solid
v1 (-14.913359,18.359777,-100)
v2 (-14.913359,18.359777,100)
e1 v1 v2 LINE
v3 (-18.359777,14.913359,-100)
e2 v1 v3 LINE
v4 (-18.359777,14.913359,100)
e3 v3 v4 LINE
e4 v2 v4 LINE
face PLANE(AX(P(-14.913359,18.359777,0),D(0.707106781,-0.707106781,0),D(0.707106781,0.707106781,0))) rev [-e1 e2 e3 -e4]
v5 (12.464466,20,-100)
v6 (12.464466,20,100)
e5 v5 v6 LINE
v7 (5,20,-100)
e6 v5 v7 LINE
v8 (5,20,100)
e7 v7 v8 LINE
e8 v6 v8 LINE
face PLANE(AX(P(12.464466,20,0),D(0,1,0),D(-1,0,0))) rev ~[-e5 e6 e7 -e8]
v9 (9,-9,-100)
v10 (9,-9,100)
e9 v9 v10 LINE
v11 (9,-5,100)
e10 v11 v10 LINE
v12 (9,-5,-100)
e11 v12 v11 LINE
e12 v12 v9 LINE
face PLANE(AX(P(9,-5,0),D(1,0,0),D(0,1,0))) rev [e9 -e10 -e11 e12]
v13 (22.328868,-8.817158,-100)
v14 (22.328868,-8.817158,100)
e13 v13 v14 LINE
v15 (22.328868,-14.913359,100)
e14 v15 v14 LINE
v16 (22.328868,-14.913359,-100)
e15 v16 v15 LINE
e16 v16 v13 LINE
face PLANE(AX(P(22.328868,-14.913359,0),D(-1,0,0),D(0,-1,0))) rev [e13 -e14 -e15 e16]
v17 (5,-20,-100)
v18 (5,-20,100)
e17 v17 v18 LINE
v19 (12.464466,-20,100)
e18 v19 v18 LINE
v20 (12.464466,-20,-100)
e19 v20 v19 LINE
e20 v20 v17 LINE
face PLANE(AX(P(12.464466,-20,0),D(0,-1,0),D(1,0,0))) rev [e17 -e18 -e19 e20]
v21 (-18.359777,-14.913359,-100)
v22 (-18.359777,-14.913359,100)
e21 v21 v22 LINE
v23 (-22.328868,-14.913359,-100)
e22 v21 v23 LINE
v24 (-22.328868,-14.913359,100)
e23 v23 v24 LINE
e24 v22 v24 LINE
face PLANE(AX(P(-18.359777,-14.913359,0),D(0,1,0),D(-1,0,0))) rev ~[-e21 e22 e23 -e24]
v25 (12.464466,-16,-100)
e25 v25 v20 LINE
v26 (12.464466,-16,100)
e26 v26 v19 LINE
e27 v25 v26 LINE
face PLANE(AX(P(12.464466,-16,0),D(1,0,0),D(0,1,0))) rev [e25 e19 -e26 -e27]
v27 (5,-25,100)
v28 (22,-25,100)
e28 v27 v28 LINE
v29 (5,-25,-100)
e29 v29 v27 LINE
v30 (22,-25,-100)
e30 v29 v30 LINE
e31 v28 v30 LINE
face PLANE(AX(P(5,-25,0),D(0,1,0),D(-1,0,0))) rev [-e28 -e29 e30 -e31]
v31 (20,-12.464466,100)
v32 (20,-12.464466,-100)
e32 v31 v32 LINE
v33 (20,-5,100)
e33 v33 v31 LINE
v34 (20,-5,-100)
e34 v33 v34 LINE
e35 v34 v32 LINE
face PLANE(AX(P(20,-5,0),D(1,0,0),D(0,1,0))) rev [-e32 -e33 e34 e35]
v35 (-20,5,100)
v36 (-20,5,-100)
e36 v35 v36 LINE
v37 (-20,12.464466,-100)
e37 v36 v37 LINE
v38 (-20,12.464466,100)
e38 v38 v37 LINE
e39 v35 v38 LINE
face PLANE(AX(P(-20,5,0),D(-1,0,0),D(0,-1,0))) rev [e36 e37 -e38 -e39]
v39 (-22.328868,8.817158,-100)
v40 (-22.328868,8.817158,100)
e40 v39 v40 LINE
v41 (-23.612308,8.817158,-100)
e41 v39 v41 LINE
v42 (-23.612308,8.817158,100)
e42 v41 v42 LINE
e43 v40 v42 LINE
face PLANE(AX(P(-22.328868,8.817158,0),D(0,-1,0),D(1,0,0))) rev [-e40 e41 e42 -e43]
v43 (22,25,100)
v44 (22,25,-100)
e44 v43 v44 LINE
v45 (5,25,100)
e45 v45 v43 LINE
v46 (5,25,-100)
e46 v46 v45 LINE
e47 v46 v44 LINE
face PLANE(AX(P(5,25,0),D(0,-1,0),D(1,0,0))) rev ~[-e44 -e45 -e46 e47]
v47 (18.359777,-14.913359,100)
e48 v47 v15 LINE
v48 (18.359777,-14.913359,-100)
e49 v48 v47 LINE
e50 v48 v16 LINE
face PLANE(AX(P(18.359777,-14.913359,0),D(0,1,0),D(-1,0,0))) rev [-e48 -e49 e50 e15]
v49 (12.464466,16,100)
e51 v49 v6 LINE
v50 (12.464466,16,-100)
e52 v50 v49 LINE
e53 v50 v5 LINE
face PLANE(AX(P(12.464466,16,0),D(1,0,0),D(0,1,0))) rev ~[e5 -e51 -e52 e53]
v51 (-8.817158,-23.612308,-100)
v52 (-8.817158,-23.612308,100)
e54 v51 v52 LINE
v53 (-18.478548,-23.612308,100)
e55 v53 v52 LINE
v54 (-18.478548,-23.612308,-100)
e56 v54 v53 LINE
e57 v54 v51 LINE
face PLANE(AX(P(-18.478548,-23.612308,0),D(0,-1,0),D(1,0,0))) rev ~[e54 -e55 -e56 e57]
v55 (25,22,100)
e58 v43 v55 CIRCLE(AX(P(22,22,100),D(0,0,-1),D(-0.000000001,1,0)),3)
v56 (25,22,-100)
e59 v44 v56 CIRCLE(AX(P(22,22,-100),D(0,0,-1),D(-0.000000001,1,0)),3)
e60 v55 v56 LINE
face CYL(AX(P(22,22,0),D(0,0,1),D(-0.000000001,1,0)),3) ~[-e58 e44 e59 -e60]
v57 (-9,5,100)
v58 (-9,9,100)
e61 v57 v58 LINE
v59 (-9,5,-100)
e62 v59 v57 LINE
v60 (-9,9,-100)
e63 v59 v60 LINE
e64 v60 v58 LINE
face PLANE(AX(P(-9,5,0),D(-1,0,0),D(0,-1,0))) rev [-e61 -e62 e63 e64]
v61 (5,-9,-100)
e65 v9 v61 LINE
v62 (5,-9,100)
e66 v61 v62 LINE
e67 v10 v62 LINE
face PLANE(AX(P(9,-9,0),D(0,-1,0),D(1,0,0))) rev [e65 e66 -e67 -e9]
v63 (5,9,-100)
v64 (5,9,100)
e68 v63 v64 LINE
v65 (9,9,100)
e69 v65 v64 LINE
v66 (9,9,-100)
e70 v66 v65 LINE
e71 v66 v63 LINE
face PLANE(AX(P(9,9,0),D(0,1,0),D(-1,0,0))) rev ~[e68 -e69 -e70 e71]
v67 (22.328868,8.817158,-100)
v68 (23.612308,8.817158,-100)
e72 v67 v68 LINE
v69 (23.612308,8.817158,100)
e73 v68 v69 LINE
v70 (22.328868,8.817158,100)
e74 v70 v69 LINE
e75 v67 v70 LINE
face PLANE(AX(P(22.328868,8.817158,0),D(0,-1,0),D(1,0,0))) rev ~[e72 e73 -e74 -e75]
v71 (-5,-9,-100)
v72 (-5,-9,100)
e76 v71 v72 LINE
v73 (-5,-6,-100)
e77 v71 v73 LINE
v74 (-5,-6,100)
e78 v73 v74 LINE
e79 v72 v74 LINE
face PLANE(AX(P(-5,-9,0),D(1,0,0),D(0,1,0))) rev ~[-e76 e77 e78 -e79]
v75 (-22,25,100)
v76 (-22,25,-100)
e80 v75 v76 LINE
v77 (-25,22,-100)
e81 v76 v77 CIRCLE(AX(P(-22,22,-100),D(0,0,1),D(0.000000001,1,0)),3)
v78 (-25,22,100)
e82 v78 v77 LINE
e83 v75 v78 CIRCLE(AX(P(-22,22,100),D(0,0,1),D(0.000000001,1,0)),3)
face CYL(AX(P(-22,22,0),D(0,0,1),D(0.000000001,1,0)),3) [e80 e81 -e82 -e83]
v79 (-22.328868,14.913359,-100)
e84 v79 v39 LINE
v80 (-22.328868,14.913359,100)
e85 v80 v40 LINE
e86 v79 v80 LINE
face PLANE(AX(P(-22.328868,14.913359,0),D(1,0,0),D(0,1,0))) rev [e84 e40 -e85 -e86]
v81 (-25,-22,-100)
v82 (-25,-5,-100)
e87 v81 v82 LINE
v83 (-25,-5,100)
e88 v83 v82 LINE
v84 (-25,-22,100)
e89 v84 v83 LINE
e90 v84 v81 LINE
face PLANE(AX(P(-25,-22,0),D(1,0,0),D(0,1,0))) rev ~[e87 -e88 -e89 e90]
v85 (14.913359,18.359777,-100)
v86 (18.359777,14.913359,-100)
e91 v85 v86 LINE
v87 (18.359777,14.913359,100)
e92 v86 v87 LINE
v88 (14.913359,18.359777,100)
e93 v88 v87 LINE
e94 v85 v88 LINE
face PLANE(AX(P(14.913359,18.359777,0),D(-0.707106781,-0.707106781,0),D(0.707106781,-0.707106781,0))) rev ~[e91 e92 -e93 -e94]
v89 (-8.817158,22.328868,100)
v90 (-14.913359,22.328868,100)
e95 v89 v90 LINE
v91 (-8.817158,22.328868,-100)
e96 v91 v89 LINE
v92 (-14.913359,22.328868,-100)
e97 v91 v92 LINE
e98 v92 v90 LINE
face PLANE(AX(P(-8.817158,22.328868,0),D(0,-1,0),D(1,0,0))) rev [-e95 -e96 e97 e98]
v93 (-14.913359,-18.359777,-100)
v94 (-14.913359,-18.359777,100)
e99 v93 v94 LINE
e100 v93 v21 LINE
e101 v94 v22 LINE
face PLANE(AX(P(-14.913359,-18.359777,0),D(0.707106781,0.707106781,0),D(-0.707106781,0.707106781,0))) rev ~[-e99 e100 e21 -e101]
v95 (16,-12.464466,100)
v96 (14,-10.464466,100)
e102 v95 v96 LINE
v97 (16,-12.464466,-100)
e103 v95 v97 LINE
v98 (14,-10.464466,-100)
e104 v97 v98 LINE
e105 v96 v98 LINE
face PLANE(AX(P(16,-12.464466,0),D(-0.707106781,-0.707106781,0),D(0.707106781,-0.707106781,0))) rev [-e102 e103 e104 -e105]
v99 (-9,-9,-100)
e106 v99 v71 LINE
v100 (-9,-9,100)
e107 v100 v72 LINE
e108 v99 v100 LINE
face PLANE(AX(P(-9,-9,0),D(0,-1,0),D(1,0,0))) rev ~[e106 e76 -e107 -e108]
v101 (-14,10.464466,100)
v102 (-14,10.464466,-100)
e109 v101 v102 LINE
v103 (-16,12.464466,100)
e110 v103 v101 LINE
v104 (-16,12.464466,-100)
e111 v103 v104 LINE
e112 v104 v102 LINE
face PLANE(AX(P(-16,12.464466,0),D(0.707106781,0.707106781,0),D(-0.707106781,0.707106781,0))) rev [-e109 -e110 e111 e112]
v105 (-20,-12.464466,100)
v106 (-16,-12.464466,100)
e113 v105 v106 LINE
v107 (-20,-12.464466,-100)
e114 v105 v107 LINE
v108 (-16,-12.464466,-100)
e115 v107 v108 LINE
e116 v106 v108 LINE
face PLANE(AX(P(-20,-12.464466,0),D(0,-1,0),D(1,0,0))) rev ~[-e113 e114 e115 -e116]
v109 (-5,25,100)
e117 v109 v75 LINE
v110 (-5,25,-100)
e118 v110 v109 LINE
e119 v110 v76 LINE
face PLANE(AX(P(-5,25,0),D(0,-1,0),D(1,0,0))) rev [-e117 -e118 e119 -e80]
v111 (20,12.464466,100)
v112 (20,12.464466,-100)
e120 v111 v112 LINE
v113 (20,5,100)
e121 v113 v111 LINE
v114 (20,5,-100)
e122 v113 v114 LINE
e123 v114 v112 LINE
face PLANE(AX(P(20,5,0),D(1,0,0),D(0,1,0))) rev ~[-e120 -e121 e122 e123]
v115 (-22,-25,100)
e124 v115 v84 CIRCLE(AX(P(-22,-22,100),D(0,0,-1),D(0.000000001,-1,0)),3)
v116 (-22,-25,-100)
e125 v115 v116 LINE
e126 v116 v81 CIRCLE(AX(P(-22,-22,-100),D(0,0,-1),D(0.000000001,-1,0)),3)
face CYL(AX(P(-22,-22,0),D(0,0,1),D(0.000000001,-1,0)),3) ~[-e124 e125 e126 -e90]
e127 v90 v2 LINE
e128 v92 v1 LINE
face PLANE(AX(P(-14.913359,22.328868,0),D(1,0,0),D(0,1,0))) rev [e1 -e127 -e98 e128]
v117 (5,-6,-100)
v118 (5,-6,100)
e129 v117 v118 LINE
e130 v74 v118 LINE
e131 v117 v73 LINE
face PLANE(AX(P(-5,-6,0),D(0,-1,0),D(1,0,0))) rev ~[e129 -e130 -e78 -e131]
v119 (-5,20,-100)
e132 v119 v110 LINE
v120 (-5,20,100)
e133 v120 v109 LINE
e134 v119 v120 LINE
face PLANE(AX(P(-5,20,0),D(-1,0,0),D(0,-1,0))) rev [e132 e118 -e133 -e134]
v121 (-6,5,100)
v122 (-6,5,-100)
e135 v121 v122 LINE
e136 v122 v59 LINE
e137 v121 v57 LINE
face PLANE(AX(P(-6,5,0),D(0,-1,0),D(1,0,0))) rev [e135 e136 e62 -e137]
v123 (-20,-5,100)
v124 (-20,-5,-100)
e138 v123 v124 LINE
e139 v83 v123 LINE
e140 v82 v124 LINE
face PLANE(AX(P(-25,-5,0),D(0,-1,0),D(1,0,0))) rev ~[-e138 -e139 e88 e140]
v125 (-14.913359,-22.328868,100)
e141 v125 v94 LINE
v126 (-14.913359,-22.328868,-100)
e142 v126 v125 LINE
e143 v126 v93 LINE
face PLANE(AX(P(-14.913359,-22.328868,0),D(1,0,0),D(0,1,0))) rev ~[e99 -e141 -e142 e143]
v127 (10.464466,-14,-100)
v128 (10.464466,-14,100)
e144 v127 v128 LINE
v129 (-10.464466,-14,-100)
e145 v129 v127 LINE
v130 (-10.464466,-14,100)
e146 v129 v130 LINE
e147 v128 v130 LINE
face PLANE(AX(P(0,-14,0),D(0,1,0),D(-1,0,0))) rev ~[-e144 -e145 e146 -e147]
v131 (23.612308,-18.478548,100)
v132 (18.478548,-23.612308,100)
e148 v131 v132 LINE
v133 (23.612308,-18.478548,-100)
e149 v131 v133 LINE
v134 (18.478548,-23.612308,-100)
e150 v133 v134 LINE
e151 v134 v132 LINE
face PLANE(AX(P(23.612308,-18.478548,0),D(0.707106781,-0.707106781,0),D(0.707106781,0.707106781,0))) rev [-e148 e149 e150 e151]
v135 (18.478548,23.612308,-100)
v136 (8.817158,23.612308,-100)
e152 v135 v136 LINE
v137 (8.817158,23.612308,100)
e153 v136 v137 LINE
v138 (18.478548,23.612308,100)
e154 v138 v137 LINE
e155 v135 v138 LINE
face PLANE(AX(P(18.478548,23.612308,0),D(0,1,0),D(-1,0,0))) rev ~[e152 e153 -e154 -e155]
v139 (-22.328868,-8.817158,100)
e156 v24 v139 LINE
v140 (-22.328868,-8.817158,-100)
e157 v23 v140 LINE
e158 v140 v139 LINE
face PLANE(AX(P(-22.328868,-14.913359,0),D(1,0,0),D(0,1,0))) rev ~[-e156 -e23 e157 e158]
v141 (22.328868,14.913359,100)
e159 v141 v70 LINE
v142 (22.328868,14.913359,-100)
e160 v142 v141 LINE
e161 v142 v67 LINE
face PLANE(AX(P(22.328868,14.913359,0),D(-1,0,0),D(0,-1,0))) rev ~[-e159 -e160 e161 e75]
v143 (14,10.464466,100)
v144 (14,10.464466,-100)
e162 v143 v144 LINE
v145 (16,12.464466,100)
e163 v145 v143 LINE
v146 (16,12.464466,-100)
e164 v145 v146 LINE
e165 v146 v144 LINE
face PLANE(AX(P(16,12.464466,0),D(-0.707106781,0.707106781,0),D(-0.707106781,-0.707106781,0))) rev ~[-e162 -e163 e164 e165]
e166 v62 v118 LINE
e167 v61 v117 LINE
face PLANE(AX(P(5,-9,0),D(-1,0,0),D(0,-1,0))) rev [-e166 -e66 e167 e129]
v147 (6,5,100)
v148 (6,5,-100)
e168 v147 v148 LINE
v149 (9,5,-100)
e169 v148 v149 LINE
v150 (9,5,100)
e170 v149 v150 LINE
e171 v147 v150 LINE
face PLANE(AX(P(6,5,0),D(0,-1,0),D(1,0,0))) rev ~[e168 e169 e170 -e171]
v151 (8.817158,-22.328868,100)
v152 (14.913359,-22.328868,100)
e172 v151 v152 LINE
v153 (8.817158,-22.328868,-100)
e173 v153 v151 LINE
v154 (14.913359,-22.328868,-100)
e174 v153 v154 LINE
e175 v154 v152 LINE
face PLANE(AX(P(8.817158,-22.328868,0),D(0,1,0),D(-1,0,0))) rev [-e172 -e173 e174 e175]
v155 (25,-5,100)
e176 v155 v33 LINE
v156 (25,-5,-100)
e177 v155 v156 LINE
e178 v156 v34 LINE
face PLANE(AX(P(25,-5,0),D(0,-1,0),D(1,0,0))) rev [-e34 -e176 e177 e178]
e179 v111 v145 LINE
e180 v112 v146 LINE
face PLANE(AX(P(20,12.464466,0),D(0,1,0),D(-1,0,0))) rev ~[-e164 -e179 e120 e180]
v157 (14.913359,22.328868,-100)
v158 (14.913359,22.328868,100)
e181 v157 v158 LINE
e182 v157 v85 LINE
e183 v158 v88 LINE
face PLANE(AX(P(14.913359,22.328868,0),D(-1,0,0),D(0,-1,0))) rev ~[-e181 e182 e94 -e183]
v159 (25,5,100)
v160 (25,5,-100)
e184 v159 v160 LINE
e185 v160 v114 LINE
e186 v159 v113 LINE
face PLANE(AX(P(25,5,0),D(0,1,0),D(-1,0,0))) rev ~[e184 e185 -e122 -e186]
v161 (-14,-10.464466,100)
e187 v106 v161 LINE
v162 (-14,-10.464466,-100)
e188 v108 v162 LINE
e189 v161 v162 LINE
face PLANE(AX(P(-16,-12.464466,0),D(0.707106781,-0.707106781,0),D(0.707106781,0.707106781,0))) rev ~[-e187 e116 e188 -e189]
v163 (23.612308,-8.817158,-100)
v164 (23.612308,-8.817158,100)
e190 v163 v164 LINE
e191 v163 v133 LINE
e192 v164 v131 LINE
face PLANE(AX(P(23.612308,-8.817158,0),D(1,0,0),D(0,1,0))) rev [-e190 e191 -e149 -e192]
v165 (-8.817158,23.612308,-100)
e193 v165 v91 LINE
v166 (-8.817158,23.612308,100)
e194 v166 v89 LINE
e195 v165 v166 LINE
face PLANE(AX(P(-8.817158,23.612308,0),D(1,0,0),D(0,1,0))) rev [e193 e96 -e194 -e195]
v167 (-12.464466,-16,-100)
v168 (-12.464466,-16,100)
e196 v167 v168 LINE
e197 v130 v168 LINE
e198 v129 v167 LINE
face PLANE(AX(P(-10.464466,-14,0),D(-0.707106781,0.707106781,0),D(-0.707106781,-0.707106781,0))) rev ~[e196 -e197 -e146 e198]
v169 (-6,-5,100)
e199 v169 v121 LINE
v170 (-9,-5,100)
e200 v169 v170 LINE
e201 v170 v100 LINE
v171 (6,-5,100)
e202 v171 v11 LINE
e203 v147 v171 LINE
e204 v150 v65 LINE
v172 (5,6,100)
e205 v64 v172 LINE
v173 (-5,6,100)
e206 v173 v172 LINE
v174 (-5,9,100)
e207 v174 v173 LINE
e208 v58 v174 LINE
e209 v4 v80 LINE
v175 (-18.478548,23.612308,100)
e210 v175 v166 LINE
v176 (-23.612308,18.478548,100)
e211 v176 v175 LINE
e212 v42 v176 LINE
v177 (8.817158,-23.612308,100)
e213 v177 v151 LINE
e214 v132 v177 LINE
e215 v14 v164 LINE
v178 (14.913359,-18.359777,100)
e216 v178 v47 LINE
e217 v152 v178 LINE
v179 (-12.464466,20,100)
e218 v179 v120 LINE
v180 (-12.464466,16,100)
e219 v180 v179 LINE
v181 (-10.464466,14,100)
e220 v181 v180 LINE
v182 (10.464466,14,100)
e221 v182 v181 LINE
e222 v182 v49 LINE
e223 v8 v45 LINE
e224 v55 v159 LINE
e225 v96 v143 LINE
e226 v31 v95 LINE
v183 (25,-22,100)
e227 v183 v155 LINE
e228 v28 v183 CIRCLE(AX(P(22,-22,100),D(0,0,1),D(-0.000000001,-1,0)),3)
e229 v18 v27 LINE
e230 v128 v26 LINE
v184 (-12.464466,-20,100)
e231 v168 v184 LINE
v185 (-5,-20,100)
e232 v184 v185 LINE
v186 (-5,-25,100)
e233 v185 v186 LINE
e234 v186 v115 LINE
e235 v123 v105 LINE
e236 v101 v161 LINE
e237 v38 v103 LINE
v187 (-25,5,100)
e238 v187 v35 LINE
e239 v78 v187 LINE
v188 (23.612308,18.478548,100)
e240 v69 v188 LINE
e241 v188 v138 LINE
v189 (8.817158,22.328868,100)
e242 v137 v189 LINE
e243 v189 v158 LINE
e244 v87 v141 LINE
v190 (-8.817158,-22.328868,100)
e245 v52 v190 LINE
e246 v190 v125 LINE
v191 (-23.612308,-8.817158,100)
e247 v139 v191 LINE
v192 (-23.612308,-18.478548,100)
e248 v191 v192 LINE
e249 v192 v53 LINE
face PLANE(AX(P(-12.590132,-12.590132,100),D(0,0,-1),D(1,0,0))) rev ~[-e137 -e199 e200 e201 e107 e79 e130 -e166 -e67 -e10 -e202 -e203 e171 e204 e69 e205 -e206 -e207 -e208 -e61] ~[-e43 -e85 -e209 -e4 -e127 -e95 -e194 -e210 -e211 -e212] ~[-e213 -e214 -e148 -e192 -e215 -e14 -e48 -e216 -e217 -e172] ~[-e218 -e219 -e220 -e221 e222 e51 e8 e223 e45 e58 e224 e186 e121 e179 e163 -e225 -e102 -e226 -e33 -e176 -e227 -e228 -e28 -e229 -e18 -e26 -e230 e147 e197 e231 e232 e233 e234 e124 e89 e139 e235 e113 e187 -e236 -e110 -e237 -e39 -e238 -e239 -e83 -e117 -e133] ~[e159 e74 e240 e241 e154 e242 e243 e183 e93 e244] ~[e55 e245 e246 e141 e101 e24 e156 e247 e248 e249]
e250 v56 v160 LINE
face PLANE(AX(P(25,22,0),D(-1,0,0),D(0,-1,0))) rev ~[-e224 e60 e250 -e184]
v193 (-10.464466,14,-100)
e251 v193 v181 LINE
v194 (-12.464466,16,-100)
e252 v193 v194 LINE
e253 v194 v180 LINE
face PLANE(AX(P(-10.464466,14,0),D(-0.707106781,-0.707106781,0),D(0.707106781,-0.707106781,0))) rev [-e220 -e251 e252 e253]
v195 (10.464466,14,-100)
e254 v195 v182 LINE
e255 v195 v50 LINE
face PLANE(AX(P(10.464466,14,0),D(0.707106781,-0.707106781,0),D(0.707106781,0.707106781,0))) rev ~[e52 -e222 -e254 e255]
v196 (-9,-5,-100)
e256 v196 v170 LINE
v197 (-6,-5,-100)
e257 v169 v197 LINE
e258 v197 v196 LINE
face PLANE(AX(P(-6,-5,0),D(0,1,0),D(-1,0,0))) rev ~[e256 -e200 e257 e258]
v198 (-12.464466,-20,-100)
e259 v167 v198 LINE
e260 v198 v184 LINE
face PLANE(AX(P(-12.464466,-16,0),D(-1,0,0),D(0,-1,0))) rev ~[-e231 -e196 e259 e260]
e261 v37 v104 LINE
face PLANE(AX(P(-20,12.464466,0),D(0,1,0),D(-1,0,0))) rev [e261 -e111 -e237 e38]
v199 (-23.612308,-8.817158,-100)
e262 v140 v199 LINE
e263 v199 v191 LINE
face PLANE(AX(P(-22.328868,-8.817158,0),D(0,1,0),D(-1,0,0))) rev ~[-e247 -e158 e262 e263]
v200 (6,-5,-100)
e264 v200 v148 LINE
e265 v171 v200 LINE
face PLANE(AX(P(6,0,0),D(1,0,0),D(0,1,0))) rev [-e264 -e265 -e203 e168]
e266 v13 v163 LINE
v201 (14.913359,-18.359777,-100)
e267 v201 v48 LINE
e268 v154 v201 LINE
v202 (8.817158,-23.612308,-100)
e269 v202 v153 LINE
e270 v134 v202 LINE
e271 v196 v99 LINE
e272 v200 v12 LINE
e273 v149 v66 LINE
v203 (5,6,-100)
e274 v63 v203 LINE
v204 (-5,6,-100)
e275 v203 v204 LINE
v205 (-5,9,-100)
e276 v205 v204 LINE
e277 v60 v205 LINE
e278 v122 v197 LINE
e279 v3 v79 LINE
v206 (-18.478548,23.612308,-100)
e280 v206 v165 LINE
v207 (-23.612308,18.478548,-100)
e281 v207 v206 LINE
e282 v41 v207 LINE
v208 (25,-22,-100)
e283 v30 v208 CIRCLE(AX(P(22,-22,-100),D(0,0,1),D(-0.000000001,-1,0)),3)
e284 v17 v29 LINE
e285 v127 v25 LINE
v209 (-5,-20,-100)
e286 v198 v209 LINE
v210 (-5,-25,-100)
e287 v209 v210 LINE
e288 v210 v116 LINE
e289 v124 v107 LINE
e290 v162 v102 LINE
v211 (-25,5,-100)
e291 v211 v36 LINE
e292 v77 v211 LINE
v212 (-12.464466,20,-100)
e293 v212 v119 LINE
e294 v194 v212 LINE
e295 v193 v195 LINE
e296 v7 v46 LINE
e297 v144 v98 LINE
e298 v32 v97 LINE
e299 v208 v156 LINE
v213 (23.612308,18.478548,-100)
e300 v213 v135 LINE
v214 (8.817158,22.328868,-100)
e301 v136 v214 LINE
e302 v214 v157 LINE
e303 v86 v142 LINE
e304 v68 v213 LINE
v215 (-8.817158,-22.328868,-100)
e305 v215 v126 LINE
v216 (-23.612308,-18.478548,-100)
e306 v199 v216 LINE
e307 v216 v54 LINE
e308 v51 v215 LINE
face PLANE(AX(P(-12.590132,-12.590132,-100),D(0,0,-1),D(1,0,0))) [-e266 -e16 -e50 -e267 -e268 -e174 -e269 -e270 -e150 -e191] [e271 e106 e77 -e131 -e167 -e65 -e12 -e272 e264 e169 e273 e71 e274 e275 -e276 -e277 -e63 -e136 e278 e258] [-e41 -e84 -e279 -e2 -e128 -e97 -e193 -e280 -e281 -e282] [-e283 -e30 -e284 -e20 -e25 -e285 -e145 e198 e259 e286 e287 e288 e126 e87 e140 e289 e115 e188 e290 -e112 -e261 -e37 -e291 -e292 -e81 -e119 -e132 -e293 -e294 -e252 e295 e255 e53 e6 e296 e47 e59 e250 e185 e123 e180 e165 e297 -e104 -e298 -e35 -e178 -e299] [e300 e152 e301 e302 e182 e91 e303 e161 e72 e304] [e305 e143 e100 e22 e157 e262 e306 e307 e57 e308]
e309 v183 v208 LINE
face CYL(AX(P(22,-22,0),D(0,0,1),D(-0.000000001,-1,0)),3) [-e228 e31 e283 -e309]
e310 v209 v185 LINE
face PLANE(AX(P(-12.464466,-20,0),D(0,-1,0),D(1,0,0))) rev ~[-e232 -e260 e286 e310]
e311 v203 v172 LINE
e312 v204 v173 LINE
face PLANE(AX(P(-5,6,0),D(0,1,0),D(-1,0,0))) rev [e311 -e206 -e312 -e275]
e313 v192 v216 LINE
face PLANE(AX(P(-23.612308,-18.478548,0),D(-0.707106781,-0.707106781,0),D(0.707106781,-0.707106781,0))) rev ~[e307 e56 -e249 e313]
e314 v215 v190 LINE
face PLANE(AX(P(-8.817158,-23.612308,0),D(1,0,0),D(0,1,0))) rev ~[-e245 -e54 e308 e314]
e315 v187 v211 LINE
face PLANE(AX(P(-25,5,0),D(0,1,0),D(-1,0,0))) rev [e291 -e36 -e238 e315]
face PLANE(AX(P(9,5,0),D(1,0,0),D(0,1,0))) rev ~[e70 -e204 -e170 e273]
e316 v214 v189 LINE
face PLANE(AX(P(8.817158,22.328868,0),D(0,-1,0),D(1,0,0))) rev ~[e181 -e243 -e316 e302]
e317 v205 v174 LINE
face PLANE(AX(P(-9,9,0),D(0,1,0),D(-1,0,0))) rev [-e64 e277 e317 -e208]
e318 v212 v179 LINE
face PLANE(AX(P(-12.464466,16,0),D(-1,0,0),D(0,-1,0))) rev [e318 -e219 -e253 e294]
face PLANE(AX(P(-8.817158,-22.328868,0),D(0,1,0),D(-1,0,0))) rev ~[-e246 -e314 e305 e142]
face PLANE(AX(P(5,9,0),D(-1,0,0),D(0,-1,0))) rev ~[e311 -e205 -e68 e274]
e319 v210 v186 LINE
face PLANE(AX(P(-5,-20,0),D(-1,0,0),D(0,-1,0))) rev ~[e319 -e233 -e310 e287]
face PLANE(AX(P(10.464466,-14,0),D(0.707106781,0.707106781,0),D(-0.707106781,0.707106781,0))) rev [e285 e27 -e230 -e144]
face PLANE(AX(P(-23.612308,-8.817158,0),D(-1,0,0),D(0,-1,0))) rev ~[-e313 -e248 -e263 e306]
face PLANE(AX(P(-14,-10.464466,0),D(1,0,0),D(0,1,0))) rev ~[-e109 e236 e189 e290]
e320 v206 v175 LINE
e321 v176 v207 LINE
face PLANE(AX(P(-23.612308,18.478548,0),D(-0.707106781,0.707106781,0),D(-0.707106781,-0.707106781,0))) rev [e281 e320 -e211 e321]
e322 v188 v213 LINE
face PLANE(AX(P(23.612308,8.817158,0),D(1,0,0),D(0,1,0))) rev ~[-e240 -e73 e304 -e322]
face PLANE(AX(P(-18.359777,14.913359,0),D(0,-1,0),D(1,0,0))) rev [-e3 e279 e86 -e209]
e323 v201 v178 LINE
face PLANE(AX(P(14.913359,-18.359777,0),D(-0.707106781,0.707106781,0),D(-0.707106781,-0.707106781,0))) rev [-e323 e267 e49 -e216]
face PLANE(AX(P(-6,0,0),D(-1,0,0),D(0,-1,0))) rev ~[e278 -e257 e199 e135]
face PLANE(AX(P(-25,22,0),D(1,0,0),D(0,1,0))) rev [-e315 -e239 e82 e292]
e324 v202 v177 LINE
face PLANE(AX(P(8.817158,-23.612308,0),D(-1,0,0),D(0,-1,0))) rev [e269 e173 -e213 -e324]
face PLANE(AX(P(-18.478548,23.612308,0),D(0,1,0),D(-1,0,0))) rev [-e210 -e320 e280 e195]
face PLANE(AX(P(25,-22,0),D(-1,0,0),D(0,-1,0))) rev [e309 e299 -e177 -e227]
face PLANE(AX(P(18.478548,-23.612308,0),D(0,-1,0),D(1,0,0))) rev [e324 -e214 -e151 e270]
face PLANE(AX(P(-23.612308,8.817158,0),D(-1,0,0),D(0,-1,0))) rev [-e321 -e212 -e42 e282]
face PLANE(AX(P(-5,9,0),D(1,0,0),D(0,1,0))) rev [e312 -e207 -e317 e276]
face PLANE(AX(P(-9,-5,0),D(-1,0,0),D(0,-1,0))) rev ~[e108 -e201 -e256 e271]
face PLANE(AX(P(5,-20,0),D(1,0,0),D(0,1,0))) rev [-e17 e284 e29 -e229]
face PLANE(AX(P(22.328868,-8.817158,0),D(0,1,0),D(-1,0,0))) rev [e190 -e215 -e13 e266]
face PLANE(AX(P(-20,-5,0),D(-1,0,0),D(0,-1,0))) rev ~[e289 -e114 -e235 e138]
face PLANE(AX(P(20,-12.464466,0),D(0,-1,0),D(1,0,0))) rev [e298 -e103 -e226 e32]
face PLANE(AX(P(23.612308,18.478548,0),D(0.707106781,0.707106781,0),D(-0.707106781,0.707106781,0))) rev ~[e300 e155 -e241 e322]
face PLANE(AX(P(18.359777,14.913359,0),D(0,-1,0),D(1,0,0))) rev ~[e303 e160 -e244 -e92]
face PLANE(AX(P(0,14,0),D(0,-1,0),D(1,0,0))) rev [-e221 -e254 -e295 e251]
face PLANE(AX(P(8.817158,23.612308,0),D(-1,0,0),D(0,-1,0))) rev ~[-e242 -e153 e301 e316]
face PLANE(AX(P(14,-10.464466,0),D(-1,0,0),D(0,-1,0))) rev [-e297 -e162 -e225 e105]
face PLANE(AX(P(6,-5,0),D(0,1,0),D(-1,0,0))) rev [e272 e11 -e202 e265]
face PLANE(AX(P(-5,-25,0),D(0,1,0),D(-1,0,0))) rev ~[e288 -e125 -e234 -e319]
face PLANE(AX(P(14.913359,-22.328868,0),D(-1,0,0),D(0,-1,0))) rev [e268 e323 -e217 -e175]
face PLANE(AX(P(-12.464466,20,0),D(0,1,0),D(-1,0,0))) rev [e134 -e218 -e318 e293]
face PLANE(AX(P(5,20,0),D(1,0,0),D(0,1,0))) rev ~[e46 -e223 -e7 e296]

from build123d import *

# Parameters (mm, degrees)
SALIENTE_EXTRUIR1_DEPTH = 100


with BuildPart() as part:
    # Croquis1 → Saliente-Extruir1 (new, symmetric)
    with BuildSketch(Plane.XY):
        with BuildLine():
            Line((5, 25), (22, 25))
            ThreePointArc((22, 25), (24.121320344, 24.121320344), (25, 22))
            Line((25, 22), (25, 5))
            Line((25, 5), (20, 5))
            Line((20, 5), (20, 12.464466094))
            Line((20, 12.464466094), (16, 12.464466094))
            Line((16, 12.464466094), (14, 10.464466094))
            Line((14, 10.464466094), (14, 0))
            Line((14, 0), (6, 0))
            Line((6, 0), (6, 5))
            Line((6, 5), (9, 5))
            Line((9, 5), (9, 9))
            Line((9, 9), (5, 9))
            Line((5, 9), (5, 6))
            Line((5, 6), (0, 6))
            Line((0, 6), (0, 14))
            Line((0, 14), (10.464466094, 14))
            Line((10.464466094, 14), (12.464466094, 16))
            Line((12.464466094, 16), (12.464466094, 20))
            Line((12.464466094, 20), (5, 20))
            Line((5, 20), (5, 25))
        make_face()
        Polygon((23.61230751, 18.478547627), (18.478547627, 23.61230751), (8.817158017, 23.61230751), (8.817158017, 22.328867539), (14.913358785, 22.328867539), (14.913358785, 18.359777384), (18.359777384, 14.913358785), (22.328867539, 14.913358785), (22.328867539, 8.817158017), (23.61230751, 8.817158017), align=None, mode=Mode.SUBTRACT)
    saliente_extruir1 = extrude(amount=SALIENTE_EXTRUIR1_DEPTH, both=True)

    # Simetría1: Saliente-Extruir1 across plane
    add(saliente_extruir1.mirror(Plane(origin=(0, 14, 100), x_dir=(0, 0, 1), z_dir=(1, 0, 0))))

    # Simetría7: part across plane


with BuildPart() as part_1:
    add(part.part)
    add(part.part.mirror(Plane(origin=(6, 0, 100), x_dir=(0, 0, 1), z_dir=(0, 1, 0))))


solid = part_1.part
